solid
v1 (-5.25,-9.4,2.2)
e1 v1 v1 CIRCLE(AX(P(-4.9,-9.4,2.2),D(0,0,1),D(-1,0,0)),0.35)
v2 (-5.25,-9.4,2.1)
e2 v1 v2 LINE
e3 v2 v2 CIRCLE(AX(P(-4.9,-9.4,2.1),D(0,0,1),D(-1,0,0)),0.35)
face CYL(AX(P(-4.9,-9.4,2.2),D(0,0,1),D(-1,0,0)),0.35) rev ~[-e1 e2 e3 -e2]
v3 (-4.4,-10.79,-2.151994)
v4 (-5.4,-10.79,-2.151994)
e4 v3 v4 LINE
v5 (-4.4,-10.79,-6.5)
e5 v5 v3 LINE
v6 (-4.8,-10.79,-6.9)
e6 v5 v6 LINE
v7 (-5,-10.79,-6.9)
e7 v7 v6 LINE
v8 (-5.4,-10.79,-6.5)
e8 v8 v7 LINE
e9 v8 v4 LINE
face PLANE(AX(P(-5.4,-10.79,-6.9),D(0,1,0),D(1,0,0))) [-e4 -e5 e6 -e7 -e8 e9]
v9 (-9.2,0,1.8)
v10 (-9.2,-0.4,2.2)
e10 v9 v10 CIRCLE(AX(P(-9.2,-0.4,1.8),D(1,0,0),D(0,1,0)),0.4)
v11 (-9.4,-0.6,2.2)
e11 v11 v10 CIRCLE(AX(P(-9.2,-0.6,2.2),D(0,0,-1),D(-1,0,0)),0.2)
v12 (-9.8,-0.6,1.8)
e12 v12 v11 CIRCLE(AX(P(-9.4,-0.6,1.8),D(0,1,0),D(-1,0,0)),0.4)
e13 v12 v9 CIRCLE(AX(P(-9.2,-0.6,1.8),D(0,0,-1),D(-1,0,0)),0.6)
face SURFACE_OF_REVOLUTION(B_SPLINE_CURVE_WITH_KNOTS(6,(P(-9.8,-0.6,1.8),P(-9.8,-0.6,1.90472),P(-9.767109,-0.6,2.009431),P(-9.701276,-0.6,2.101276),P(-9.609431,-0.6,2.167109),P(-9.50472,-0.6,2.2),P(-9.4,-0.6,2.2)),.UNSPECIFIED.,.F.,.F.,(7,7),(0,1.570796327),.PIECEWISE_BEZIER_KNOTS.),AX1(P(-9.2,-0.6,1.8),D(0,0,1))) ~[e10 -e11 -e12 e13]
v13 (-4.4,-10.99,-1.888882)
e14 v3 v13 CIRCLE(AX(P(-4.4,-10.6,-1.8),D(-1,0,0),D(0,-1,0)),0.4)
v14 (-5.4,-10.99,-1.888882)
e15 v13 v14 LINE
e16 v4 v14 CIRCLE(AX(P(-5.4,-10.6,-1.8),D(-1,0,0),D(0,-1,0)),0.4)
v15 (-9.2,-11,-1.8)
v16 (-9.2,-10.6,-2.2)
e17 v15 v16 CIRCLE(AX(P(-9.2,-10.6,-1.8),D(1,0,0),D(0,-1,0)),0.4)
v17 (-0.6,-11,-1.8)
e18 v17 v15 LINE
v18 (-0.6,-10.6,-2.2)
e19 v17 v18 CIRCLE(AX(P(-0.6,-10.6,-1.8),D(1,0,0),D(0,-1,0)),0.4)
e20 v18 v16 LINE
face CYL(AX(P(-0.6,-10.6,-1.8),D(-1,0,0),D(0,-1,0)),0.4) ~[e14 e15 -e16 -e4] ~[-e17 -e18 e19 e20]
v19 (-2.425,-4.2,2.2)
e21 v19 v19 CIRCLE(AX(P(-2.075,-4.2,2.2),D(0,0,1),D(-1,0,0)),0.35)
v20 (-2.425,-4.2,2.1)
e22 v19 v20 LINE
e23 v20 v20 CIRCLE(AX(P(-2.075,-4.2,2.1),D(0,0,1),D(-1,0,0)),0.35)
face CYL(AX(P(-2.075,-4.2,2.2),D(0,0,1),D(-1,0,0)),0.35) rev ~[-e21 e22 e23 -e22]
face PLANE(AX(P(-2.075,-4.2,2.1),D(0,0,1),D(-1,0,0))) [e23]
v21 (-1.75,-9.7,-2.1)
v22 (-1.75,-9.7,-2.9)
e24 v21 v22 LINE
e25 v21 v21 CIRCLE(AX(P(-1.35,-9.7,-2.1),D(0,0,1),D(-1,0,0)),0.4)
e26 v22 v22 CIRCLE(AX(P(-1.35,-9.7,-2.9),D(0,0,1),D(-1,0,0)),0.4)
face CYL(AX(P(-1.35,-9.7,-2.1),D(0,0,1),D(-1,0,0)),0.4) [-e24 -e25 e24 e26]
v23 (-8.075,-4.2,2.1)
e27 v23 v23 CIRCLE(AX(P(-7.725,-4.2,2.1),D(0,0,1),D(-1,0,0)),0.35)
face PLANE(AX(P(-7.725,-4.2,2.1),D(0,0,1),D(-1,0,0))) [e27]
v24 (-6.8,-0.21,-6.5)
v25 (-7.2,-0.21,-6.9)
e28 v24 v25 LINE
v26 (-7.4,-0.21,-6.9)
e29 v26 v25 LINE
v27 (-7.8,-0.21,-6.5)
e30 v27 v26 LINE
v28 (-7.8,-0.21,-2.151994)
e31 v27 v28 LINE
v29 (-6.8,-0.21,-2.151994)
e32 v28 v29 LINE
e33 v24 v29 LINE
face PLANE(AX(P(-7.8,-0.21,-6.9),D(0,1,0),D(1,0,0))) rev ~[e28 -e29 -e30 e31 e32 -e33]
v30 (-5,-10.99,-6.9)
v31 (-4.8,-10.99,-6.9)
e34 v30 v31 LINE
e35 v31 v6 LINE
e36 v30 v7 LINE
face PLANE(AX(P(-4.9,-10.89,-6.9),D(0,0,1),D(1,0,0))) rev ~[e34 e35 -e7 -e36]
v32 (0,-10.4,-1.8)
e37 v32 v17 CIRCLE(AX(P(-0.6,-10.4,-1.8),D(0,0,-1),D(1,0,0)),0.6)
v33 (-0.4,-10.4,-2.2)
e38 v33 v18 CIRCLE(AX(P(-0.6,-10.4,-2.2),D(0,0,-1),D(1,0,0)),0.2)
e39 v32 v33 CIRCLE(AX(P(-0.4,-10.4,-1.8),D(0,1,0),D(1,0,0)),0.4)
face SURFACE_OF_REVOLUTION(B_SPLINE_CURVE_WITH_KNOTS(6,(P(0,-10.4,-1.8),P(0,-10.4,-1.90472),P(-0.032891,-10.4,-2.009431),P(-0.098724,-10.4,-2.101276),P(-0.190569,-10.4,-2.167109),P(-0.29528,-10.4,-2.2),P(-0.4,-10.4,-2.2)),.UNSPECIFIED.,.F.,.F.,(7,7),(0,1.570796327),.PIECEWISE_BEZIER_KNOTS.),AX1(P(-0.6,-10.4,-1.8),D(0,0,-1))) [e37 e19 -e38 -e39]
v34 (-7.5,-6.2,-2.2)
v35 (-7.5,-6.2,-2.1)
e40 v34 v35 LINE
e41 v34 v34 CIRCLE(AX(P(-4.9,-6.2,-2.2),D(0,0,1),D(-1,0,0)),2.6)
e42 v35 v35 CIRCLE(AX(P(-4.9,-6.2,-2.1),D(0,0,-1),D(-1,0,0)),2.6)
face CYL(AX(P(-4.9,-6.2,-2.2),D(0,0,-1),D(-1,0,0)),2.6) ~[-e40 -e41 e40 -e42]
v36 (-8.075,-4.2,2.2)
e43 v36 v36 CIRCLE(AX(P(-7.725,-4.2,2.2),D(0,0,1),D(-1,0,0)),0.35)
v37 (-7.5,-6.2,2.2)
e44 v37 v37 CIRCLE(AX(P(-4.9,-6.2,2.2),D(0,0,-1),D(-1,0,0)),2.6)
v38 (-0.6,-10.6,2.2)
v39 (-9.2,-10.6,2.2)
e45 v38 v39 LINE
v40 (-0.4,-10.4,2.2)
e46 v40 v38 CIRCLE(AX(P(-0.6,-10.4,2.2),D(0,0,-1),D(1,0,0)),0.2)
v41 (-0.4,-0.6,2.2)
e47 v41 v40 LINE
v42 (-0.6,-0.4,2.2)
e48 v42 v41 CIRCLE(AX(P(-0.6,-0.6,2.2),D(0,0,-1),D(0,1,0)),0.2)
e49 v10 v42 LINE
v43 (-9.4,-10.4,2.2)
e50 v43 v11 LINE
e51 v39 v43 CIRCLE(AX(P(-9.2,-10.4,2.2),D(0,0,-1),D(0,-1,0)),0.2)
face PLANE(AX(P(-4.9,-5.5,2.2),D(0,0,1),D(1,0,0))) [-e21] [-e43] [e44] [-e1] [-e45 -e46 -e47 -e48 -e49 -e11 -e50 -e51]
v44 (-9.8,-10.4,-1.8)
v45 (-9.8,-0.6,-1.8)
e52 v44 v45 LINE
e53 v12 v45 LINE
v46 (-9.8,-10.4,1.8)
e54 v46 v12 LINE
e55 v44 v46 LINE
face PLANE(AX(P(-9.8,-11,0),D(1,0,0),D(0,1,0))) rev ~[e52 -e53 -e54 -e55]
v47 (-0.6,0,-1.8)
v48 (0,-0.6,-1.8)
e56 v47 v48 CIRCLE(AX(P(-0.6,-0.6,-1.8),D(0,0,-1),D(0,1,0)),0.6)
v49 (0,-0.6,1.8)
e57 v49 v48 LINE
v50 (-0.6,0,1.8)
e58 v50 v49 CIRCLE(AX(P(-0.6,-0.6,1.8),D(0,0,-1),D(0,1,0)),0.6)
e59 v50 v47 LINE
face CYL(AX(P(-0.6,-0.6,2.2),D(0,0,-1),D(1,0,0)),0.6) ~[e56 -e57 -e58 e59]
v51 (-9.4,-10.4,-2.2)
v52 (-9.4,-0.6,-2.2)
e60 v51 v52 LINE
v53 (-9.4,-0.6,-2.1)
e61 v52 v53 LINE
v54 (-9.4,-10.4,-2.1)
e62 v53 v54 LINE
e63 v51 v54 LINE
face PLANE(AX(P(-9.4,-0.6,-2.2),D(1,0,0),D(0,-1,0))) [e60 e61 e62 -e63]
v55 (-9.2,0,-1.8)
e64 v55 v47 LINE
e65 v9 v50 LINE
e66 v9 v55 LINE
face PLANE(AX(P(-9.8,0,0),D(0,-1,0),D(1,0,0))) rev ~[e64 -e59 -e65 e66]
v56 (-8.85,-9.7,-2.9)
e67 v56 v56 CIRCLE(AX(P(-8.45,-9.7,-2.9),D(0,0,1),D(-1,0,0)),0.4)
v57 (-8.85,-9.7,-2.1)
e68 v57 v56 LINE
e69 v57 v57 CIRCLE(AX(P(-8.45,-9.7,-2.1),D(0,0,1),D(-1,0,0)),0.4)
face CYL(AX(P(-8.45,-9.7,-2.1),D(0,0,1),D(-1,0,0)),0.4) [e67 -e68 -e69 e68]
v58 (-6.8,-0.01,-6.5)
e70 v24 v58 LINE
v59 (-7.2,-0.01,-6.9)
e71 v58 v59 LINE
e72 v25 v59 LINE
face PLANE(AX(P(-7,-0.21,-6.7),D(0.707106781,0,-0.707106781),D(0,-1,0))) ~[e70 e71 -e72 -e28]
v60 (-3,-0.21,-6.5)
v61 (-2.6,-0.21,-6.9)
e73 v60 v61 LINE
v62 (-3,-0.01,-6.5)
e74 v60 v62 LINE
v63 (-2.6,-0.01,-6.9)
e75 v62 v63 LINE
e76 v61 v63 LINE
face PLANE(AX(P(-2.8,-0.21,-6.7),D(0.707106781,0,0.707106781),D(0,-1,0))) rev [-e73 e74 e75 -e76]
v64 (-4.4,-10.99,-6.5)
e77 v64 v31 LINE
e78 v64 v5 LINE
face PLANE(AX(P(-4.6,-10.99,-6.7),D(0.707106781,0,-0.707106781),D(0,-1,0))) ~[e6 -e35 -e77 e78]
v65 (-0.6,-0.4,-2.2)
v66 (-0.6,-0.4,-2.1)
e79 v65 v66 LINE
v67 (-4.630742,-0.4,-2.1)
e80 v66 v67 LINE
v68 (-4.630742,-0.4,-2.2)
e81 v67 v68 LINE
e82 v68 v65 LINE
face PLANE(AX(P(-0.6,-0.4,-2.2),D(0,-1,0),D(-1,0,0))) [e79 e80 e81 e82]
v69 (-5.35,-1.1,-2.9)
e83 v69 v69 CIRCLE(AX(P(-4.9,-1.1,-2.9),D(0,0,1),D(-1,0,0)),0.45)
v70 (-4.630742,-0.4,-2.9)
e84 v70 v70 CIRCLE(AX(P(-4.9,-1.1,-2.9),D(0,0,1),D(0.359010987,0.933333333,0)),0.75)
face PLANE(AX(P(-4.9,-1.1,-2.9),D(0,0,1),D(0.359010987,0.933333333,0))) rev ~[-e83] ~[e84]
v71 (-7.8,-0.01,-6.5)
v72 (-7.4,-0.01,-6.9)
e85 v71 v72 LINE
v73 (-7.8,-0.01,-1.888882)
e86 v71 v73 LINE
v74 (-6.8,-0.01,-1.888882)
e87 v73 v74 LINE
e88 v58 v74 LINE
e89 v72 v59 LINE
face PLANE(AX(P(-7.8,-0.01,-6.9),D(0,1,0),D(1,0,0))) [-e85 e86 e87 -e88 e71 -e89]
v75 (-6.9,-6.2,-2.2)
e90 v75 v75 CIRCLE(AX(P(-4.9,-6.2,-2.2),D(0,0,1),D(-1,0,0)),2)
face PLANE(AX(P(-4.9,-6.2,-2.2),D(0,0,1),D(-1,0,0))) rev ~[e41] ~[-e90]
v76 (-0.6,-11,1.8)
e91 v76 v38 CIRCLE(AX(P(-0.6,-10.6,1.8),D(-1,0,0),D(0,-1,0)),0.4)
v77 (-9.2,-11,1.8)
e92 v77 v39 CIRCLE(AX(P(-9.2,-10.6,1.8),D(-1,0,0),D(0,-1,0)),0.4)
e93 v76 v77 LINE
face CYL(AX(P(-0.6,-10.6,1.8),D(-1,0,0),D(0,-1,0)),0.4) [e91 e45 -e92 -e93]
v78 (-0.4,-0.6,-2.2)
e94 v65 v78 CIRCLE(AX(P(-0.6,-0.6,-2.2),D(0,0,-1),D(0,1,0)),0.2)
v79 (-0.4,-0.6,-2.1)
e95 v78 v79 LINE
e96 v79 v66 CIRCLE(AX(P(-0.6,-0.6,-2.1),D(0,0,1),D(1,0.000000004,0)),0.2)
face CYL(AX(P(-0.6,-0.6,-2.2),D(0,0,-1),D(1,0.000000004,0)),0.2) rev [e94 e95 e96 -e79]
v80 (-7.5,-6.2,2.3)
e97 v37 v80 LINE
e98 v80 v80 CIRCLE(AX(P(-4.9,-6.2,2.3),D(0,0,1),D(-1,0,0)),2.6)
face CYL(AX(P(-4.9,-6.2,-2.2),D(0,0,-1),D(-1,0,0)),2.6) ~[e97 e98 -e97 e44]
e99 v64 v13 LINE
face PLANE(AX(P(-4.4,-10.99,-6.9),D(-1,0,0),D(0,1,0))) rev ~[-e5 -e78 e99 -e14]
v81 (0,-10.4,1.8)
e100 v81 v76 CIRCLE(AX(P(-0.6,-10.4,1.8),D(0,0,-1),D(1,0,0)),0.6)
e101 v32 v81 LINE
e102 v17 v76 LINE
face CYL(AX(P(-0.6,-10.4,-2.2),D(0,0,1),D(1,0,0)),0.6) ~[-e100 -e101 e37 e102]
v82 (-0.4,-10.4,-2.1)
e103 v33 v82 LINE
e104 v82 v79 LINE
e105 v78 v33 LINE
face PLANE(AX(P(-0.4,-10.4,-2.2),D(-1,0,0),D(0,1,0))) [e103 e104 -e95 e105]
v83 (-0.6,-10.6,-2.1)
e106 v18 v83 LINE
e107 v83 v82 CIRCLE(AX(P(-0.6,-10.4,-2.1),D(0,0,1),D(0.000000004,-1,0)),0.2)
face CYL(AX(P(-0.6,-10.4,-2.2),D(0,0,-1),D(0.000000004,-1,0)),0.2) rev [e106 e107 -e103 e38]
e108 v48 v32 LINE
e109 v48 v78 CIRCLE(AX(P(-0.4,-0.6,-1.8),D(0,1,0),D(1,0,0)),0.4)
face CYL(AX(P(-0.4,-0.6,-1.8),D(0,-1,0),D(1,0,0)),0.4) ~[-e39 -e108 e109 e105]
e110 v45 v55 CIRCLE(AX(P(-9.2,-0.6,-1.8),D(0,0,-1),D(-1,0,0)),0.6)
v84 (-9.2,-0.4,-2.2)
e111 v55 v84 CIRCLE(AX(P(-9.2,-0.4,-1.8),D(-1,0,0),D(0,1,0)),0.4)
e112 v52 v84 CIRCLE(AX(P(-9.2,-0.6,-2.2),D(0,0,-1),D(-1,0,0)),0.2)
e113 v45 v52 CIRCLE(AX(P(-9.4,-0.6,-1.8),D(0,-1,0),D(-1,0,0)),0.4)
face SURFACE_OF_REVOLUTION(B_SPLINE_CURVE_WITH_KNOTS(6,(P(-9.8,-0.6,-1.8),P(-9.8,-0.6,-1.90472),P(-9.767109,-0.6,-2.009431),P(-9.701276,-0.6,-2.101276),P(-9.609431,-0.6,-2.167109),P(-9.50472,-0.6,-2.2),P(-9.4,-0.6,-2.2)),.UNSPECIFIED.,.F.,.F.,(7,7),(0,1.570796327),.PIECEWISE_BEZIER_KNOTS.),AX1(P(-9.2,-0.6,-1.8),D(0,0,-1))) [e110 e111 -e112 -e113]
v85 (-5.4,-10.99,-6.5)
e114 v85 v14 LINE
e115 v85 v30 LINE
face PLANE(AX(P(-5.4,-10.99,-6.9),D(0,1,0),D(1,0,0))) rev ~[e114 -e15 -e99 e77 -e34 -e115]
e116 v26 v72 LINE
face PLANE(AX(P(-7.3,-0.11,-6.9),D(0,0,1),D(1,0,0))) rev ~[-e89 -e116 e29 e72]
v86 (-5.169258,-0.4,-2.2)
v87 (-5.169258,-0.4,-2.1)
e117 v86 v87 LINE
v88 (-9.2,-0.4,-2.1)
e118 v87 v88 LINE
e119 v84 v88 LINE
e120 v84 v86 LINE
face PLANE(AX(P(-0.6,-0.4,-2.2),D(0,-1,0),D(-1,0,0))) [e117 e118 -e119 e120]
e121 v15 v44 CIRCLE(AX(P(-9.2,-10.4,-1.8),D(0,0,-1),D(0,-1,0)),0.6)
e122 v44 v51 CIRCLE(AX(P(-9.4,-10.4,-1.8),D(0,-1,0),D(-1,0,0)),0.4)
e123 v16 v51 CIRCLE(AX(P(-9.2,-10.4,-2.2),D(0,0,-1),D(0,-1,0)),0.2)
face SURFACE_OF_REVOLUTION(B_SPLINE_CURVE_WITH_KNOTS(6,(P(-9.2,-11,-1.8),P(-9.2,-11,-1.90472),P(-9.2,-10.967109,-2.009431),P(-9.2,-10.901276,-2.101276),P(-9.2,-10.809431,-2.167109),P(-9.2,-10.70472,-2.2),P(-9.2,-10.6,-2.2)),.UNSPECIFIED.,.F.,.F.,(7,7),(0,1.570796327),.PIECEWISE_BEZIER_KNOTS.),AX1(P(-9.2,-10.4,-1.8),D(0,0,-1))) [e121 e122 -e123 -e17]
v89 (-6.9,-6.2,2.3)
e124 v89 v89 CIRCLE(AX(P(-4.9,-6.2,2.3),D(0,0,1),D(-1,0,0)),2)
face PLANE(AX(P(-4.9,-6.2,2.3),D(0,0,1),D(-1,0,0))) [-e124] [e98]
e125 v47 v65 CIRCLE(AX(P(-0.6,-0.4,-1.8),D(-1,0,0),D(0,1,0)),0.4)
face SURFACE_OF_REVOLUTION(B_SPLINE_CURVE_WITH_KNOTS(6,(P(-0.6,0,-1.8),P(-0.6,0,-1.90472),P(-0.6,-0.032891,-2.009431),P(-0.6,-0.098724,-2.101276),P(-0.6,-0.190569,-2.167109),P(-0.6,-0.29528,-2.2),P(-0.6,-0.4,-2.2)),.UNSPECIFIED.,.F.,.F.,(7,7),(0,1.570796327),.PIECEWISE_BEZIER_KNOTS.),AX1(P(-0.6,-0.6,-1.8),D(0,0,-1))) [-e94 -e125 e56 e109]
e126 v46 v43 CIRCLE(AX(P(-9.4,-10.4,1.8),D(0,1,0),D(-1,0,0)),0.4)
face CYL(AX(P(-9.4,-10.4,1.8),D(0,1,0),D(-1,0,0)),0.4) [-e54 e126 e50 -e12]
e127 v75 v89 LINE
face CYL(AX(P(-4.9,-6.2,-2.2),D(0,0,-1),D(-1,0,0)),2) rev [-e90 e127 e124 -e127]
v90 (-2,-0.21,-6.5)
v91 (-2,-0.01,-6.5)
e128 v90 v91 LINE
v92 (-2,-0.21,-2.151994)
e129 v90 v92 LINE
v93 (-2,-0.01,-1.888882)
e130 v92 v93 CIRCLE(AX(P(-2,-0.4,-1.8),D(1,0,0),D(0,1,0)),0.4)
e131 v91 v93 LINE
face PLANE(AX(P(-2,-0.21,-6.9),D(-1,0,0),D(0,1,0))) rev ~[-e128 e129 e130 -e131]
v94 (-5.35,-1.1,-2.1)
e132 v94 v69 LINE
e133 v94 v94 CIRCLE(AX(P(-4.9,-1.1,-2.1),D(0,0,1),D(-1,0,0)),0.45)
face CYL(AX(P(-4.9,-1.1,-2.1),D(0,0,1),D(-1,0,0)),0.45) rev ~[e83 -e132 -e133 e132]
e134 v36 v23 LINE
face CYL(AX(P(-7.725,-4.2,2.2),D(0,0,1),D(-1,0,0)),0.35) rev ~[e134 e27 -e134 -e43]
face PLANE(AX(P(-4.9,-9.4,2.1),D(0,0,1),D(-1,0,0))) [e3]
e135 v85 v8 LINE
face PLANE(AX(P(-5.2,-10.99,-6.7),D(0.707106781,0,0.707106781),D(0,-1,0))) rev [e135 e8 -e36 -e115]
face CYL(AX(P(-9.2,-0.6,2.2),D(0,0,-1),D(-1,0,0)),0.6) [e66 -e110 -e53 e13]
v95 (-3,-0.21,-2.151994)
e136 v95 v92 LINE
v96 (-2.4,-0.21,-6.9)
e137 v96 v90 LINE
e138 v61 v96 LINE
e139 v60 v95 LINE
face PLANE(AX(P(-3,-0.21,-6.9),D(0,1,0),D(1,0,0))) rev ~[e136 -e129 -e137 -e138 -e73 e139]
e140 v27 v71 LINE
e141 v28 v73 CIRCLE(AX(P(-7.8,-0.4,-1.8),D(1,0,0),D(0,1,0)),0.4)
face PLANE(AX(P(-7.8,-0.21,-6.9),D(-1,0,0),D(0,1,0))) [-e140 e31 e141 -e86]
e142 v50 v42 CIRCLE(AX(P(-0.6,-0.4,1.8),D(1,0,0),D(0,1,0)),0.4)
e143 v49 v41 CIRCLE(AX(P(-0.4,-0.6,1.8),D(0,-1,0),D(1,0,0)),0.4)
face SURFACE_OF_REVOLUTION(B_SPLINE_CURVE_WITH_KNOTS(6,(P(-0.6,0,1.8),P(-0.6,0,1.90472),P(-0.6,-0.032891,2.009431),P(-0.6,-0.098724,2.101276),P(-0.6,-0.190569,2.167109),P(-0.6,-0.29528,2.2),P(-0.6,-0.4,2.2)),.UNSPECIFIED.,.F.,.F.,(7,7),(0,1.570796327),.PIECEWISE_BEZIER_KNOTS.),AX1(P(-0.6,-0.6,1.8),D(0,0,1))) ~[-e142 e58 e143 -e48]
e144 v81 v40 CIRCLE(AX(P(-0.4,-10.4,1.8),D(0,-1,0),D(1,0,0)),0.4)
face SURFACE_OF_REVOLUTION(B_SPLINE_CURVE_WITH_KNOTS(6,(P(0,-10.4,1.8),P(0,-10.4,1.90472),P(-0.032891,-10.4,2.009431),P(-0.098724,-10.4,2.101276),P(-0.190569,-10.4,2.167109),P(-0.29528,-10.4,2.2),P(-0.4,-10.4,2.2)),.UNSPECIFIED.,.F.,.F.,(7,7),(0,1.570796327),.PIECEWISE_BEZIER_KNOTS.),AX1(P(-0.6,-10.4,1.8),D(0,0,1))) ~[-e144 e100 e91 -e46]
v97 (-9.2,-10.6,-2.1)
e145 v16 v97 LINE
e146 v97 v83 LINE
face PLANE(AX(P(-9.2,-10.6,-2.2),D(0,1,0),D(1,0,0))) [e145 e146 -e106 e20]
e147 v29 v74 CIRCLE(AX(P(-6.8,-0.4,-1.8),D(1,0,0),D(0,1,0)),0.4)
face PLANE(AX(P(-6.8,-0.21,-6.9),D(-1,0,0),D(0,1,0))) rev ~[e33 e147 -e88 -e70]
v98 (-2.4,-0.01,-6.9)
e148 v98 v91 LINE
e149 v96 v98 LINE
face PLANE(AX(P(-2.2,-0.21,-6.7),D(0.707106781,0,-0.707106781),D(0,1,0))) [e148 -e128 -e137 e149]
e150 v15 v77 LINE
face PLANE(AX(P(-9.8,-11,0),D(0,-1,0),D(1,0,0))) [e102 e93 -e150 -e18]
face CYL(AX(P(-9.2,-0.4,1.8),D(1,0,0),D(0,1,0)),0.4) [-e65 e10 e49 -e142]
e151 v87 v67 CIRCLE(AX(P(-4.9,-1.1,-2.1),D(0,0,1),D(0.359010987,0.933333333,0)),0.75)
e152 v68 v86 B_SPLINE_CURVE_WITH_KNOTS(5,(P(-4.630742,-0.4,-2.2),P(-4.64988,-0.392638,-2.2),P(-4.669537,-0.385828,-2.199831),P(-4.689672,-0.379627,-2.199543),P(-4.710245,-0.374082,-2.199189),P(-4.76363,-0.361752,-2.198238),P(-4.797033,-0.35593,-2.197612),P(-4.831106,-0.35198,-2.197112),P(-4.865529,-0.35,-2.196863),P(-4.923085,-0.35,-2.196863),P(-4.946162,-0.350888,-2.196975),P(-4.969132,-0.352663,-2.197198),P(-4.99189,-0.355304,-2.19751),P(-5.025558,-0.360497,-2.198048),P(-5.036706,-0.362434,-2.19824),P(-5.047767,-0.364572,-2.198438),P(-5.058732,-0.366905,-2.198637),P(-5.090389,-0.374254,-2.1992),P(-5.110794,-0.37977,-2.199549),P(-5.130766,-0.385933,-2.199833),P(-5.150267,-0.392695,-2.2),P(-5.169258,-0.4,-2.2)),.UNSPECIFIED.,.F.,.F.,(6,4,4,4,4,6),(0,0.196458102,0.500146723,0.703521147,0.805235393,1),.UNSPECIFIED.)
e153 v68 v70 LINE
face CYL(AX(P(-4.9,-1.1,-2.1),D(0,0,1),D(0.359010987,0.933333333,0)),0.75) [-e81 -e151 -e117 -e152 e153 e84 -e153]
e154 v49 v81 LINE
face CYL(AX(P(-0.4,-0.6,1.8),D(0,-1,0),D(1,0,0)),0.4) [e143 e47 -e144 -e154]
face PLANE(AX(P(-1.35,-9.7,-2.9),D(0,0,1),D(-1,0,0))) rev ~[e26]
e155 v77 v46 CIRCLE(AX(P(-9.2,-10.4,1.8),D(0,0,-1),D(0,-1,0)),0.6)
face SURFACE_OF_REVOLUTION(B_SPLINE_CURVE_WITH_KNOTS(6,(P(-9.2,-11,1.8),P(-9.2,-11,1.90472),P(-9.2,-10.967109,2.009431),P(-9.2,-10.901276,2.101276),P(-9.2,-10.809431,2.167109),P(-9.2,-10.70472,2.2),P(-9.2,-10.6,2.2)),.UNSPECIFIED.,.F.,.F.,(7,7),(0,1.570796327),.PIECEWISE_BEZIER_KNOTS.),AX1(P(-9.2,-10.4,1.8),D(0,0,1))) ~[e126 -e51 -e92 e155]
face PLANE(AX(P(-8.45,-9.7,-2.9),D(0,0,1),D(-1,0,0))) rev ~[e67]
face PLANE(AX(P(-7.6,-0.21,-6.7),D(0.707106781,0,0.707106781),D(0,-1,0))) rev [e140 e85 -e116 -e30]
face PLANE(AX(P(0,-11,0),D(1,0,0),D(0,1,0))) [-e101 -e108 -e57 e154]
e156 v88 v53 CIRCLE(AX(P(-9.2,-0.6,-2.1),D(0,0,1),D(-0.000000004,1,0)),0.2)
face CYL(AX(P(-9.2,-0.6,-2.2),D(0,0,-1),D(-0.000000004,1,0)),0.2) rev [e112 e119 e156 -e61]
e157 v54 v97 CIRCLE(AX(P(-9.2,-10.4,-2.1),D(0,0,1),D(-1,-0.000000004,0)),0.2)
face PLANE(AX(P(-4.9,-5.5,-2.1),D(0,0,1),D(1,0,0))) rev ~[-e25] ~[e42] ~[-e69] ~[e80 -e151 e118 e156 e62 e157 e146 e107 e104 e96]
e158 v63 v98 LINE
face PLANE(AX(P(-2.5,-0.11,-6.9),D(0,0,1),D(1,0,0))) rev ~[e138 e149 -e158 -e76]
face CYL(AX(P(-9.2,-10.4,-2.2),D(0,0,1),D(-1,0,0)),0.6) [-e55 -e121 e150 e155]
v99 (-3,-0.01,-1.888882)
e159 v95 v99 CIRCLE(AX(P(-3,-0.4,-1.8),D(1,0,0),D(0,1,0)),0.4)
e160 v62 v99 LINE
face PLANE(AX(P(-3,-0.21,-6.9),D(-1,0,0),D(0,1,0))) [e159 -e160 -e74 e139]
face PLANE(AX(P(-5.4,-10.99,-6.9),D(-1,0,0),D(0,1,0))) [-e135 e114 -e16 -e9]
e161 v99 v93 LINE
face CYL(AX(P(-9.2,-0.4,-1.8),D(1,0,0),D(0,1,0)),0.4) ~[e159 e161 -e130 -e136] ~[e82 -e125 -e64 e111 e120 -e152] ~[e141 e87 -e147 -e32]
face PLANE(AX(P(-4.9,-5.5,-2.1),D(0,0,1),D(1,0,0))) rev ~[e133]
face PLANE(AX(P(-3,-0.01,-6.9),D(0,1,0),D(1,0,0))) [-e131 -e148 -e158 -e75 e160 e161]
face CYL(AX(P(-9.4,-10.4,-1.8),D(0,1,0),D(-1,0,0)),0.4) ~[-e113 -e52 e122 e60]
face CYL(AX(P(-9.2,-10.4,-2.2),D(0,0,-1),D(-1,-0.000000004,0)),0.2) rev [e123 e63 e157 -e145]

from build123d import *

# Parameters (mm, degrees)
SKETCH1_W                         = 9.8
SKETCH1_H                         = 11
BOSS_EXTRUDE1_BODY_DEPTH          = 2.2
FILLET1_BODYCORNERS_R             = 0.6
FILLET2_BODYFACES_R               = 0.4
CUT_EXTRUDE2_BASEINDENT_START     = -2.2
CUT_EXTRUDE2_BASEINDENT_DEPTH     = 0.1
BOSS_EXTRUDE4_BASESTUDS_START     = -2.1
SKETCH5_R                         = 0.75
SKETCH5_R_2                       = 0.45
SKETCH5_R_3                       = 0.4
BOSS_EXTRUDE4_BASESTUDS_DEPTH     = 0.8
BOSS_EXTRUDE5_PINS_DEPTH          = 2.2
BOSS_EXTRUDE5_PINS_DEPTH_BACK     = 4.8
BOSS_EXTRUDE5_PINS_START          = -2.1
SKETCH6_W                         = 1
SKETCH6_H                         = 0.2
CHAMFER2_PINS_SIZE                = 0.4
BOSS_EXTRUDE6_KNOBEDGE_START      = -2.2
SKETCH7_R                         = 2.6
SKETCH7_R_2                       = 2
BOSS_EXTRUDE6_KNOBEDGE_DEPTH      = 4.5
CUT_EXTRUDE3_SHAFTHOLE_DEPTH      = 17.26806688
CUT_EXTRUDE3_SHAFTHOLE_DEPTH_BACK = 15.16806688
CUT_EXTRUDE3_SHAFTHOLE_START      = -2.1
SKETCH8_R                         = 2
CUT_EXTRUDE4_DETAIL_START         = 2.2
SKETCH9_R                         = 0.35
CUT_EXTRUDE4_DETAIL_DEPTH         = 0.1


with BuildPart() as part:
    # Sketch1 → Boss-Extrude1_Body (new, symmetric)
    with BuildSketch(Plane.XY):
        with Locations((-4.9, -5.5)):
            Rectangle(SKETCH1_W, SKETCH1_H)
    extrude(amount=BOSS_EXTRUDE1_BODY_DEPTH, both=True)

    # Fillet1_BodyCorners
    fillet1_bodycorners_edges = [part.edges().sort_by_distance(p)[0] for p in [
        (0, -11, 0),
        (-9.8, -11, 0),
        (-9.8, 0, 0),
        (0, 0, 0),
    ]]
    fillet(fillet1_bodycorners_edges, radius=FILLET1_BODYCORNERS_R)

    # Fillet2_BodyFaces
    fillet2_bodyfaces_edges = [part.edges().sort_by_distance(p)[0] for p in [
        (-9.8, -5.5, -2.2),
        (-9.8, -5.5, 2.2),
        (0, -5.5, -2.2),
        (-4.9, -11, -2.2),
        (-4.9, 0, -2.2),
        (-0.175735931, -0.175735931, -2.2),
        (-0.175735931, -10.824264069, -2.2),
        (-9.624264069, -10.824264069, -2.2),
        (-9.624264069, -0.175735931, -2.2),
        (-4.9, 0, 2.2),
        (0, -5.5, 2.2),
        (-4.9, -11, 2.2),
        (-0.175735931, -0.175735931, 2.2),
        (-0.175735931, -10.824264069, 2.2),
        (-9.624264069, -10.824264069, 2.2),
        (-9.624264069, -0.175735931, 2.2),
    ]]
    fillet(fillet2_bodyfaces_edges, radius=FILLET2_BODYFACES_R)

    # Sketch4 → Cut-Extrude2_BaseIndent (cut)
    with BuildSketch(Plane.XY.offset(CUT_EXTRUDE2_BASEINDENT_START)):
        with BuildLine():
            Line((-0.6, -0.4), (-9.2, -0.4))
            ThreePointArc((-9.2, -0.4), (-9.341421356, -0.458578644), (-9.4, -0.6))
            Line((-9.4, -0.6), (-9.4, -10.4))
            ThreePointArc((-9.4, -10.4), (-9.341421356, -10.541421356), (-9.2, -10.6))
            Line((-9.2, -10.6), (-0.6, -10.6))
            ThreePointArc((-0.6, -10.6), (-0.458578644, -10.541421356), (-0.4, -10.4))
            Line((-0.4, -10.4), (-0.4, -0.6))
            ThreePointArc((-0.4, -0.6), (-0.458578644, -0.458578644), (-0.6, -0.4))
        make_face()
    extrude(amount=CUT_EXTRUDE2_BASEINDENT_DEPTH, mode=Mode.SUBTRACT)

    # Sketch5 → Boss-Extrude4_BaseStuds (add)
    # profile 1 of 3: a face of its own
    with BuildSketch(Plane.XY.offset(BOSS_EXTRUDE4_BASESTUDS_START)):
        with Locations(Location((-4.9, -1.1, 0), (0, 0, 68.960530219))):
            Circle(SKETCH5_R)
        with Locations(Location((-4.9, -1.1, 0), (0, 0, 180))):
            Circle(SKETCH5_R_2, mode=Mode.SUBTRACT)
    # profile 2 of 3: a face of its own
    with BuildSketch(Plane.XY.offset(BOSS_EXTRUDE4_BASESTUDS_START)):
        with Locations(Location((-1.35, -9.7, 0), (0, 0, 180))):
            Circle(SKETCH5_R_3)
    # profile 3 of 3: a face of its own
    with BuildSketch(Plane.XY.offset(BOSS_EXTRUDE4_BASESTUDS_START)):
        with Locations(Location((-8.45, -9.7, 0), (0, 0, 180))):
            Circle(SKETCH5_R_3)
    extrude(amount=-BOSS_EXTRUDE4_BASESTUDS_DEPTH)

    # Sketch6 → Boss-Extrude5_Pins (add, two sides: drawn at the far end of the back side and taken through both)
    with BuildSketch(Plane.XY.offset(BOSS_EXTRUDE5_PINS_START - BOSS_EXTRUDE5_PINS_DEPTH_BACK)):
        with Locations((-2.5, -0.11)):
            Rectangle(SKETCH6_W, SKETCH6_H)
        with Locations((-7.3, -0.11)):
            Rectangle(SKETCH6_W, SKETCH6_H)
        with Locations((-4.9, -10.89)):
            Rectangle(SKETCH6_W, SKETCH6_H)
    extrude(amount=BOSS_EXTRUDE5_PINS_DEPTH + BOSS_EXTRUDE5_PINS_DEPTH_BACK)

    # Chamfer2_Pins
    chamfer2_pins_edges = [part.edges().sort_by_distance(p)[0] for p in [
        (-2, -0.11, -6.9),
        (-3, -0.11, -6.9),
        (-6.8, -0.11, -6.9),
        (-7.8, -0.11, -6.9),
        (-4.4, -10.89, -6.9),
        (-5.4, -10.89, -6.9),
    ]]
    chamfer(chamfer2_pins_edges, length=CHAMFER2_PINS_SIZE)

    # Sketch7 → Boss-Extrude6_KnobEdge (add)
    with BuildSketch(Plane.XY.offset(BOSS_EXTRUDE6_KNOBEDGE_START)):
        with Locations(Location((-4.9, -6.2, 0), (0, 0, 180))):
            Circle(SKETCH7_R)
        with Locations(Location((-4.9, -6.2, 0), (0, 0, 180))):
            Circle(SKETCH7_R_2, mode=Mode.SUBTRACT)
    extrude(amount=BOSS_EXTRUDE6_KNOBEDGE_DEPTH)

    # Sketch8 → Cut-Extrude3_ShaftHole (cut, two sides: drawn at the far end of the back side and taken through both)
    with BuildSketch(Plane.XY.offset(CUT_EXTRUDE3_SHAFTHOLE_START - CUT_EXTRUDE3_SHAFTHOLE_DEPTH_BACK)):
        with Locations(Location((-4.9, -6.2, 0), (0, 0, 180))):
            Circle(SKETCH8_R)
    extrude(amount=CUT_EXTRUDE3_SHAFTHOLE_DEPTH + CUT_EXTRUDE3_SHAFTHOLE_DEPTH_BACK, mode=Mode.SUBTRACT)

    # Sketch9 → Cut-Extrude4_Detail (cut)
    with BuildSketch(Plane.XY.offset(CUT_EXTRUDE4_DETAIL_START)):
        with Locations(Location((-7.725, -4.2, 0), (0, 0, 180))):
            Circle(SKETCH9_R)
        with Locations(Location((-2.075, -4.2, 0), (0, 0, 180))):
            Circle(SKETCH9_R)
        with Locations(Location((-4.9, -9.4, 0), (0, 0, 180))):
            Circle(SKETCH9_R)
    extrude(amount=-CUT_EXTRUDE4_DETAIL_DEPTH, mode=Mode.SUBTRACT)


solid = part.part
